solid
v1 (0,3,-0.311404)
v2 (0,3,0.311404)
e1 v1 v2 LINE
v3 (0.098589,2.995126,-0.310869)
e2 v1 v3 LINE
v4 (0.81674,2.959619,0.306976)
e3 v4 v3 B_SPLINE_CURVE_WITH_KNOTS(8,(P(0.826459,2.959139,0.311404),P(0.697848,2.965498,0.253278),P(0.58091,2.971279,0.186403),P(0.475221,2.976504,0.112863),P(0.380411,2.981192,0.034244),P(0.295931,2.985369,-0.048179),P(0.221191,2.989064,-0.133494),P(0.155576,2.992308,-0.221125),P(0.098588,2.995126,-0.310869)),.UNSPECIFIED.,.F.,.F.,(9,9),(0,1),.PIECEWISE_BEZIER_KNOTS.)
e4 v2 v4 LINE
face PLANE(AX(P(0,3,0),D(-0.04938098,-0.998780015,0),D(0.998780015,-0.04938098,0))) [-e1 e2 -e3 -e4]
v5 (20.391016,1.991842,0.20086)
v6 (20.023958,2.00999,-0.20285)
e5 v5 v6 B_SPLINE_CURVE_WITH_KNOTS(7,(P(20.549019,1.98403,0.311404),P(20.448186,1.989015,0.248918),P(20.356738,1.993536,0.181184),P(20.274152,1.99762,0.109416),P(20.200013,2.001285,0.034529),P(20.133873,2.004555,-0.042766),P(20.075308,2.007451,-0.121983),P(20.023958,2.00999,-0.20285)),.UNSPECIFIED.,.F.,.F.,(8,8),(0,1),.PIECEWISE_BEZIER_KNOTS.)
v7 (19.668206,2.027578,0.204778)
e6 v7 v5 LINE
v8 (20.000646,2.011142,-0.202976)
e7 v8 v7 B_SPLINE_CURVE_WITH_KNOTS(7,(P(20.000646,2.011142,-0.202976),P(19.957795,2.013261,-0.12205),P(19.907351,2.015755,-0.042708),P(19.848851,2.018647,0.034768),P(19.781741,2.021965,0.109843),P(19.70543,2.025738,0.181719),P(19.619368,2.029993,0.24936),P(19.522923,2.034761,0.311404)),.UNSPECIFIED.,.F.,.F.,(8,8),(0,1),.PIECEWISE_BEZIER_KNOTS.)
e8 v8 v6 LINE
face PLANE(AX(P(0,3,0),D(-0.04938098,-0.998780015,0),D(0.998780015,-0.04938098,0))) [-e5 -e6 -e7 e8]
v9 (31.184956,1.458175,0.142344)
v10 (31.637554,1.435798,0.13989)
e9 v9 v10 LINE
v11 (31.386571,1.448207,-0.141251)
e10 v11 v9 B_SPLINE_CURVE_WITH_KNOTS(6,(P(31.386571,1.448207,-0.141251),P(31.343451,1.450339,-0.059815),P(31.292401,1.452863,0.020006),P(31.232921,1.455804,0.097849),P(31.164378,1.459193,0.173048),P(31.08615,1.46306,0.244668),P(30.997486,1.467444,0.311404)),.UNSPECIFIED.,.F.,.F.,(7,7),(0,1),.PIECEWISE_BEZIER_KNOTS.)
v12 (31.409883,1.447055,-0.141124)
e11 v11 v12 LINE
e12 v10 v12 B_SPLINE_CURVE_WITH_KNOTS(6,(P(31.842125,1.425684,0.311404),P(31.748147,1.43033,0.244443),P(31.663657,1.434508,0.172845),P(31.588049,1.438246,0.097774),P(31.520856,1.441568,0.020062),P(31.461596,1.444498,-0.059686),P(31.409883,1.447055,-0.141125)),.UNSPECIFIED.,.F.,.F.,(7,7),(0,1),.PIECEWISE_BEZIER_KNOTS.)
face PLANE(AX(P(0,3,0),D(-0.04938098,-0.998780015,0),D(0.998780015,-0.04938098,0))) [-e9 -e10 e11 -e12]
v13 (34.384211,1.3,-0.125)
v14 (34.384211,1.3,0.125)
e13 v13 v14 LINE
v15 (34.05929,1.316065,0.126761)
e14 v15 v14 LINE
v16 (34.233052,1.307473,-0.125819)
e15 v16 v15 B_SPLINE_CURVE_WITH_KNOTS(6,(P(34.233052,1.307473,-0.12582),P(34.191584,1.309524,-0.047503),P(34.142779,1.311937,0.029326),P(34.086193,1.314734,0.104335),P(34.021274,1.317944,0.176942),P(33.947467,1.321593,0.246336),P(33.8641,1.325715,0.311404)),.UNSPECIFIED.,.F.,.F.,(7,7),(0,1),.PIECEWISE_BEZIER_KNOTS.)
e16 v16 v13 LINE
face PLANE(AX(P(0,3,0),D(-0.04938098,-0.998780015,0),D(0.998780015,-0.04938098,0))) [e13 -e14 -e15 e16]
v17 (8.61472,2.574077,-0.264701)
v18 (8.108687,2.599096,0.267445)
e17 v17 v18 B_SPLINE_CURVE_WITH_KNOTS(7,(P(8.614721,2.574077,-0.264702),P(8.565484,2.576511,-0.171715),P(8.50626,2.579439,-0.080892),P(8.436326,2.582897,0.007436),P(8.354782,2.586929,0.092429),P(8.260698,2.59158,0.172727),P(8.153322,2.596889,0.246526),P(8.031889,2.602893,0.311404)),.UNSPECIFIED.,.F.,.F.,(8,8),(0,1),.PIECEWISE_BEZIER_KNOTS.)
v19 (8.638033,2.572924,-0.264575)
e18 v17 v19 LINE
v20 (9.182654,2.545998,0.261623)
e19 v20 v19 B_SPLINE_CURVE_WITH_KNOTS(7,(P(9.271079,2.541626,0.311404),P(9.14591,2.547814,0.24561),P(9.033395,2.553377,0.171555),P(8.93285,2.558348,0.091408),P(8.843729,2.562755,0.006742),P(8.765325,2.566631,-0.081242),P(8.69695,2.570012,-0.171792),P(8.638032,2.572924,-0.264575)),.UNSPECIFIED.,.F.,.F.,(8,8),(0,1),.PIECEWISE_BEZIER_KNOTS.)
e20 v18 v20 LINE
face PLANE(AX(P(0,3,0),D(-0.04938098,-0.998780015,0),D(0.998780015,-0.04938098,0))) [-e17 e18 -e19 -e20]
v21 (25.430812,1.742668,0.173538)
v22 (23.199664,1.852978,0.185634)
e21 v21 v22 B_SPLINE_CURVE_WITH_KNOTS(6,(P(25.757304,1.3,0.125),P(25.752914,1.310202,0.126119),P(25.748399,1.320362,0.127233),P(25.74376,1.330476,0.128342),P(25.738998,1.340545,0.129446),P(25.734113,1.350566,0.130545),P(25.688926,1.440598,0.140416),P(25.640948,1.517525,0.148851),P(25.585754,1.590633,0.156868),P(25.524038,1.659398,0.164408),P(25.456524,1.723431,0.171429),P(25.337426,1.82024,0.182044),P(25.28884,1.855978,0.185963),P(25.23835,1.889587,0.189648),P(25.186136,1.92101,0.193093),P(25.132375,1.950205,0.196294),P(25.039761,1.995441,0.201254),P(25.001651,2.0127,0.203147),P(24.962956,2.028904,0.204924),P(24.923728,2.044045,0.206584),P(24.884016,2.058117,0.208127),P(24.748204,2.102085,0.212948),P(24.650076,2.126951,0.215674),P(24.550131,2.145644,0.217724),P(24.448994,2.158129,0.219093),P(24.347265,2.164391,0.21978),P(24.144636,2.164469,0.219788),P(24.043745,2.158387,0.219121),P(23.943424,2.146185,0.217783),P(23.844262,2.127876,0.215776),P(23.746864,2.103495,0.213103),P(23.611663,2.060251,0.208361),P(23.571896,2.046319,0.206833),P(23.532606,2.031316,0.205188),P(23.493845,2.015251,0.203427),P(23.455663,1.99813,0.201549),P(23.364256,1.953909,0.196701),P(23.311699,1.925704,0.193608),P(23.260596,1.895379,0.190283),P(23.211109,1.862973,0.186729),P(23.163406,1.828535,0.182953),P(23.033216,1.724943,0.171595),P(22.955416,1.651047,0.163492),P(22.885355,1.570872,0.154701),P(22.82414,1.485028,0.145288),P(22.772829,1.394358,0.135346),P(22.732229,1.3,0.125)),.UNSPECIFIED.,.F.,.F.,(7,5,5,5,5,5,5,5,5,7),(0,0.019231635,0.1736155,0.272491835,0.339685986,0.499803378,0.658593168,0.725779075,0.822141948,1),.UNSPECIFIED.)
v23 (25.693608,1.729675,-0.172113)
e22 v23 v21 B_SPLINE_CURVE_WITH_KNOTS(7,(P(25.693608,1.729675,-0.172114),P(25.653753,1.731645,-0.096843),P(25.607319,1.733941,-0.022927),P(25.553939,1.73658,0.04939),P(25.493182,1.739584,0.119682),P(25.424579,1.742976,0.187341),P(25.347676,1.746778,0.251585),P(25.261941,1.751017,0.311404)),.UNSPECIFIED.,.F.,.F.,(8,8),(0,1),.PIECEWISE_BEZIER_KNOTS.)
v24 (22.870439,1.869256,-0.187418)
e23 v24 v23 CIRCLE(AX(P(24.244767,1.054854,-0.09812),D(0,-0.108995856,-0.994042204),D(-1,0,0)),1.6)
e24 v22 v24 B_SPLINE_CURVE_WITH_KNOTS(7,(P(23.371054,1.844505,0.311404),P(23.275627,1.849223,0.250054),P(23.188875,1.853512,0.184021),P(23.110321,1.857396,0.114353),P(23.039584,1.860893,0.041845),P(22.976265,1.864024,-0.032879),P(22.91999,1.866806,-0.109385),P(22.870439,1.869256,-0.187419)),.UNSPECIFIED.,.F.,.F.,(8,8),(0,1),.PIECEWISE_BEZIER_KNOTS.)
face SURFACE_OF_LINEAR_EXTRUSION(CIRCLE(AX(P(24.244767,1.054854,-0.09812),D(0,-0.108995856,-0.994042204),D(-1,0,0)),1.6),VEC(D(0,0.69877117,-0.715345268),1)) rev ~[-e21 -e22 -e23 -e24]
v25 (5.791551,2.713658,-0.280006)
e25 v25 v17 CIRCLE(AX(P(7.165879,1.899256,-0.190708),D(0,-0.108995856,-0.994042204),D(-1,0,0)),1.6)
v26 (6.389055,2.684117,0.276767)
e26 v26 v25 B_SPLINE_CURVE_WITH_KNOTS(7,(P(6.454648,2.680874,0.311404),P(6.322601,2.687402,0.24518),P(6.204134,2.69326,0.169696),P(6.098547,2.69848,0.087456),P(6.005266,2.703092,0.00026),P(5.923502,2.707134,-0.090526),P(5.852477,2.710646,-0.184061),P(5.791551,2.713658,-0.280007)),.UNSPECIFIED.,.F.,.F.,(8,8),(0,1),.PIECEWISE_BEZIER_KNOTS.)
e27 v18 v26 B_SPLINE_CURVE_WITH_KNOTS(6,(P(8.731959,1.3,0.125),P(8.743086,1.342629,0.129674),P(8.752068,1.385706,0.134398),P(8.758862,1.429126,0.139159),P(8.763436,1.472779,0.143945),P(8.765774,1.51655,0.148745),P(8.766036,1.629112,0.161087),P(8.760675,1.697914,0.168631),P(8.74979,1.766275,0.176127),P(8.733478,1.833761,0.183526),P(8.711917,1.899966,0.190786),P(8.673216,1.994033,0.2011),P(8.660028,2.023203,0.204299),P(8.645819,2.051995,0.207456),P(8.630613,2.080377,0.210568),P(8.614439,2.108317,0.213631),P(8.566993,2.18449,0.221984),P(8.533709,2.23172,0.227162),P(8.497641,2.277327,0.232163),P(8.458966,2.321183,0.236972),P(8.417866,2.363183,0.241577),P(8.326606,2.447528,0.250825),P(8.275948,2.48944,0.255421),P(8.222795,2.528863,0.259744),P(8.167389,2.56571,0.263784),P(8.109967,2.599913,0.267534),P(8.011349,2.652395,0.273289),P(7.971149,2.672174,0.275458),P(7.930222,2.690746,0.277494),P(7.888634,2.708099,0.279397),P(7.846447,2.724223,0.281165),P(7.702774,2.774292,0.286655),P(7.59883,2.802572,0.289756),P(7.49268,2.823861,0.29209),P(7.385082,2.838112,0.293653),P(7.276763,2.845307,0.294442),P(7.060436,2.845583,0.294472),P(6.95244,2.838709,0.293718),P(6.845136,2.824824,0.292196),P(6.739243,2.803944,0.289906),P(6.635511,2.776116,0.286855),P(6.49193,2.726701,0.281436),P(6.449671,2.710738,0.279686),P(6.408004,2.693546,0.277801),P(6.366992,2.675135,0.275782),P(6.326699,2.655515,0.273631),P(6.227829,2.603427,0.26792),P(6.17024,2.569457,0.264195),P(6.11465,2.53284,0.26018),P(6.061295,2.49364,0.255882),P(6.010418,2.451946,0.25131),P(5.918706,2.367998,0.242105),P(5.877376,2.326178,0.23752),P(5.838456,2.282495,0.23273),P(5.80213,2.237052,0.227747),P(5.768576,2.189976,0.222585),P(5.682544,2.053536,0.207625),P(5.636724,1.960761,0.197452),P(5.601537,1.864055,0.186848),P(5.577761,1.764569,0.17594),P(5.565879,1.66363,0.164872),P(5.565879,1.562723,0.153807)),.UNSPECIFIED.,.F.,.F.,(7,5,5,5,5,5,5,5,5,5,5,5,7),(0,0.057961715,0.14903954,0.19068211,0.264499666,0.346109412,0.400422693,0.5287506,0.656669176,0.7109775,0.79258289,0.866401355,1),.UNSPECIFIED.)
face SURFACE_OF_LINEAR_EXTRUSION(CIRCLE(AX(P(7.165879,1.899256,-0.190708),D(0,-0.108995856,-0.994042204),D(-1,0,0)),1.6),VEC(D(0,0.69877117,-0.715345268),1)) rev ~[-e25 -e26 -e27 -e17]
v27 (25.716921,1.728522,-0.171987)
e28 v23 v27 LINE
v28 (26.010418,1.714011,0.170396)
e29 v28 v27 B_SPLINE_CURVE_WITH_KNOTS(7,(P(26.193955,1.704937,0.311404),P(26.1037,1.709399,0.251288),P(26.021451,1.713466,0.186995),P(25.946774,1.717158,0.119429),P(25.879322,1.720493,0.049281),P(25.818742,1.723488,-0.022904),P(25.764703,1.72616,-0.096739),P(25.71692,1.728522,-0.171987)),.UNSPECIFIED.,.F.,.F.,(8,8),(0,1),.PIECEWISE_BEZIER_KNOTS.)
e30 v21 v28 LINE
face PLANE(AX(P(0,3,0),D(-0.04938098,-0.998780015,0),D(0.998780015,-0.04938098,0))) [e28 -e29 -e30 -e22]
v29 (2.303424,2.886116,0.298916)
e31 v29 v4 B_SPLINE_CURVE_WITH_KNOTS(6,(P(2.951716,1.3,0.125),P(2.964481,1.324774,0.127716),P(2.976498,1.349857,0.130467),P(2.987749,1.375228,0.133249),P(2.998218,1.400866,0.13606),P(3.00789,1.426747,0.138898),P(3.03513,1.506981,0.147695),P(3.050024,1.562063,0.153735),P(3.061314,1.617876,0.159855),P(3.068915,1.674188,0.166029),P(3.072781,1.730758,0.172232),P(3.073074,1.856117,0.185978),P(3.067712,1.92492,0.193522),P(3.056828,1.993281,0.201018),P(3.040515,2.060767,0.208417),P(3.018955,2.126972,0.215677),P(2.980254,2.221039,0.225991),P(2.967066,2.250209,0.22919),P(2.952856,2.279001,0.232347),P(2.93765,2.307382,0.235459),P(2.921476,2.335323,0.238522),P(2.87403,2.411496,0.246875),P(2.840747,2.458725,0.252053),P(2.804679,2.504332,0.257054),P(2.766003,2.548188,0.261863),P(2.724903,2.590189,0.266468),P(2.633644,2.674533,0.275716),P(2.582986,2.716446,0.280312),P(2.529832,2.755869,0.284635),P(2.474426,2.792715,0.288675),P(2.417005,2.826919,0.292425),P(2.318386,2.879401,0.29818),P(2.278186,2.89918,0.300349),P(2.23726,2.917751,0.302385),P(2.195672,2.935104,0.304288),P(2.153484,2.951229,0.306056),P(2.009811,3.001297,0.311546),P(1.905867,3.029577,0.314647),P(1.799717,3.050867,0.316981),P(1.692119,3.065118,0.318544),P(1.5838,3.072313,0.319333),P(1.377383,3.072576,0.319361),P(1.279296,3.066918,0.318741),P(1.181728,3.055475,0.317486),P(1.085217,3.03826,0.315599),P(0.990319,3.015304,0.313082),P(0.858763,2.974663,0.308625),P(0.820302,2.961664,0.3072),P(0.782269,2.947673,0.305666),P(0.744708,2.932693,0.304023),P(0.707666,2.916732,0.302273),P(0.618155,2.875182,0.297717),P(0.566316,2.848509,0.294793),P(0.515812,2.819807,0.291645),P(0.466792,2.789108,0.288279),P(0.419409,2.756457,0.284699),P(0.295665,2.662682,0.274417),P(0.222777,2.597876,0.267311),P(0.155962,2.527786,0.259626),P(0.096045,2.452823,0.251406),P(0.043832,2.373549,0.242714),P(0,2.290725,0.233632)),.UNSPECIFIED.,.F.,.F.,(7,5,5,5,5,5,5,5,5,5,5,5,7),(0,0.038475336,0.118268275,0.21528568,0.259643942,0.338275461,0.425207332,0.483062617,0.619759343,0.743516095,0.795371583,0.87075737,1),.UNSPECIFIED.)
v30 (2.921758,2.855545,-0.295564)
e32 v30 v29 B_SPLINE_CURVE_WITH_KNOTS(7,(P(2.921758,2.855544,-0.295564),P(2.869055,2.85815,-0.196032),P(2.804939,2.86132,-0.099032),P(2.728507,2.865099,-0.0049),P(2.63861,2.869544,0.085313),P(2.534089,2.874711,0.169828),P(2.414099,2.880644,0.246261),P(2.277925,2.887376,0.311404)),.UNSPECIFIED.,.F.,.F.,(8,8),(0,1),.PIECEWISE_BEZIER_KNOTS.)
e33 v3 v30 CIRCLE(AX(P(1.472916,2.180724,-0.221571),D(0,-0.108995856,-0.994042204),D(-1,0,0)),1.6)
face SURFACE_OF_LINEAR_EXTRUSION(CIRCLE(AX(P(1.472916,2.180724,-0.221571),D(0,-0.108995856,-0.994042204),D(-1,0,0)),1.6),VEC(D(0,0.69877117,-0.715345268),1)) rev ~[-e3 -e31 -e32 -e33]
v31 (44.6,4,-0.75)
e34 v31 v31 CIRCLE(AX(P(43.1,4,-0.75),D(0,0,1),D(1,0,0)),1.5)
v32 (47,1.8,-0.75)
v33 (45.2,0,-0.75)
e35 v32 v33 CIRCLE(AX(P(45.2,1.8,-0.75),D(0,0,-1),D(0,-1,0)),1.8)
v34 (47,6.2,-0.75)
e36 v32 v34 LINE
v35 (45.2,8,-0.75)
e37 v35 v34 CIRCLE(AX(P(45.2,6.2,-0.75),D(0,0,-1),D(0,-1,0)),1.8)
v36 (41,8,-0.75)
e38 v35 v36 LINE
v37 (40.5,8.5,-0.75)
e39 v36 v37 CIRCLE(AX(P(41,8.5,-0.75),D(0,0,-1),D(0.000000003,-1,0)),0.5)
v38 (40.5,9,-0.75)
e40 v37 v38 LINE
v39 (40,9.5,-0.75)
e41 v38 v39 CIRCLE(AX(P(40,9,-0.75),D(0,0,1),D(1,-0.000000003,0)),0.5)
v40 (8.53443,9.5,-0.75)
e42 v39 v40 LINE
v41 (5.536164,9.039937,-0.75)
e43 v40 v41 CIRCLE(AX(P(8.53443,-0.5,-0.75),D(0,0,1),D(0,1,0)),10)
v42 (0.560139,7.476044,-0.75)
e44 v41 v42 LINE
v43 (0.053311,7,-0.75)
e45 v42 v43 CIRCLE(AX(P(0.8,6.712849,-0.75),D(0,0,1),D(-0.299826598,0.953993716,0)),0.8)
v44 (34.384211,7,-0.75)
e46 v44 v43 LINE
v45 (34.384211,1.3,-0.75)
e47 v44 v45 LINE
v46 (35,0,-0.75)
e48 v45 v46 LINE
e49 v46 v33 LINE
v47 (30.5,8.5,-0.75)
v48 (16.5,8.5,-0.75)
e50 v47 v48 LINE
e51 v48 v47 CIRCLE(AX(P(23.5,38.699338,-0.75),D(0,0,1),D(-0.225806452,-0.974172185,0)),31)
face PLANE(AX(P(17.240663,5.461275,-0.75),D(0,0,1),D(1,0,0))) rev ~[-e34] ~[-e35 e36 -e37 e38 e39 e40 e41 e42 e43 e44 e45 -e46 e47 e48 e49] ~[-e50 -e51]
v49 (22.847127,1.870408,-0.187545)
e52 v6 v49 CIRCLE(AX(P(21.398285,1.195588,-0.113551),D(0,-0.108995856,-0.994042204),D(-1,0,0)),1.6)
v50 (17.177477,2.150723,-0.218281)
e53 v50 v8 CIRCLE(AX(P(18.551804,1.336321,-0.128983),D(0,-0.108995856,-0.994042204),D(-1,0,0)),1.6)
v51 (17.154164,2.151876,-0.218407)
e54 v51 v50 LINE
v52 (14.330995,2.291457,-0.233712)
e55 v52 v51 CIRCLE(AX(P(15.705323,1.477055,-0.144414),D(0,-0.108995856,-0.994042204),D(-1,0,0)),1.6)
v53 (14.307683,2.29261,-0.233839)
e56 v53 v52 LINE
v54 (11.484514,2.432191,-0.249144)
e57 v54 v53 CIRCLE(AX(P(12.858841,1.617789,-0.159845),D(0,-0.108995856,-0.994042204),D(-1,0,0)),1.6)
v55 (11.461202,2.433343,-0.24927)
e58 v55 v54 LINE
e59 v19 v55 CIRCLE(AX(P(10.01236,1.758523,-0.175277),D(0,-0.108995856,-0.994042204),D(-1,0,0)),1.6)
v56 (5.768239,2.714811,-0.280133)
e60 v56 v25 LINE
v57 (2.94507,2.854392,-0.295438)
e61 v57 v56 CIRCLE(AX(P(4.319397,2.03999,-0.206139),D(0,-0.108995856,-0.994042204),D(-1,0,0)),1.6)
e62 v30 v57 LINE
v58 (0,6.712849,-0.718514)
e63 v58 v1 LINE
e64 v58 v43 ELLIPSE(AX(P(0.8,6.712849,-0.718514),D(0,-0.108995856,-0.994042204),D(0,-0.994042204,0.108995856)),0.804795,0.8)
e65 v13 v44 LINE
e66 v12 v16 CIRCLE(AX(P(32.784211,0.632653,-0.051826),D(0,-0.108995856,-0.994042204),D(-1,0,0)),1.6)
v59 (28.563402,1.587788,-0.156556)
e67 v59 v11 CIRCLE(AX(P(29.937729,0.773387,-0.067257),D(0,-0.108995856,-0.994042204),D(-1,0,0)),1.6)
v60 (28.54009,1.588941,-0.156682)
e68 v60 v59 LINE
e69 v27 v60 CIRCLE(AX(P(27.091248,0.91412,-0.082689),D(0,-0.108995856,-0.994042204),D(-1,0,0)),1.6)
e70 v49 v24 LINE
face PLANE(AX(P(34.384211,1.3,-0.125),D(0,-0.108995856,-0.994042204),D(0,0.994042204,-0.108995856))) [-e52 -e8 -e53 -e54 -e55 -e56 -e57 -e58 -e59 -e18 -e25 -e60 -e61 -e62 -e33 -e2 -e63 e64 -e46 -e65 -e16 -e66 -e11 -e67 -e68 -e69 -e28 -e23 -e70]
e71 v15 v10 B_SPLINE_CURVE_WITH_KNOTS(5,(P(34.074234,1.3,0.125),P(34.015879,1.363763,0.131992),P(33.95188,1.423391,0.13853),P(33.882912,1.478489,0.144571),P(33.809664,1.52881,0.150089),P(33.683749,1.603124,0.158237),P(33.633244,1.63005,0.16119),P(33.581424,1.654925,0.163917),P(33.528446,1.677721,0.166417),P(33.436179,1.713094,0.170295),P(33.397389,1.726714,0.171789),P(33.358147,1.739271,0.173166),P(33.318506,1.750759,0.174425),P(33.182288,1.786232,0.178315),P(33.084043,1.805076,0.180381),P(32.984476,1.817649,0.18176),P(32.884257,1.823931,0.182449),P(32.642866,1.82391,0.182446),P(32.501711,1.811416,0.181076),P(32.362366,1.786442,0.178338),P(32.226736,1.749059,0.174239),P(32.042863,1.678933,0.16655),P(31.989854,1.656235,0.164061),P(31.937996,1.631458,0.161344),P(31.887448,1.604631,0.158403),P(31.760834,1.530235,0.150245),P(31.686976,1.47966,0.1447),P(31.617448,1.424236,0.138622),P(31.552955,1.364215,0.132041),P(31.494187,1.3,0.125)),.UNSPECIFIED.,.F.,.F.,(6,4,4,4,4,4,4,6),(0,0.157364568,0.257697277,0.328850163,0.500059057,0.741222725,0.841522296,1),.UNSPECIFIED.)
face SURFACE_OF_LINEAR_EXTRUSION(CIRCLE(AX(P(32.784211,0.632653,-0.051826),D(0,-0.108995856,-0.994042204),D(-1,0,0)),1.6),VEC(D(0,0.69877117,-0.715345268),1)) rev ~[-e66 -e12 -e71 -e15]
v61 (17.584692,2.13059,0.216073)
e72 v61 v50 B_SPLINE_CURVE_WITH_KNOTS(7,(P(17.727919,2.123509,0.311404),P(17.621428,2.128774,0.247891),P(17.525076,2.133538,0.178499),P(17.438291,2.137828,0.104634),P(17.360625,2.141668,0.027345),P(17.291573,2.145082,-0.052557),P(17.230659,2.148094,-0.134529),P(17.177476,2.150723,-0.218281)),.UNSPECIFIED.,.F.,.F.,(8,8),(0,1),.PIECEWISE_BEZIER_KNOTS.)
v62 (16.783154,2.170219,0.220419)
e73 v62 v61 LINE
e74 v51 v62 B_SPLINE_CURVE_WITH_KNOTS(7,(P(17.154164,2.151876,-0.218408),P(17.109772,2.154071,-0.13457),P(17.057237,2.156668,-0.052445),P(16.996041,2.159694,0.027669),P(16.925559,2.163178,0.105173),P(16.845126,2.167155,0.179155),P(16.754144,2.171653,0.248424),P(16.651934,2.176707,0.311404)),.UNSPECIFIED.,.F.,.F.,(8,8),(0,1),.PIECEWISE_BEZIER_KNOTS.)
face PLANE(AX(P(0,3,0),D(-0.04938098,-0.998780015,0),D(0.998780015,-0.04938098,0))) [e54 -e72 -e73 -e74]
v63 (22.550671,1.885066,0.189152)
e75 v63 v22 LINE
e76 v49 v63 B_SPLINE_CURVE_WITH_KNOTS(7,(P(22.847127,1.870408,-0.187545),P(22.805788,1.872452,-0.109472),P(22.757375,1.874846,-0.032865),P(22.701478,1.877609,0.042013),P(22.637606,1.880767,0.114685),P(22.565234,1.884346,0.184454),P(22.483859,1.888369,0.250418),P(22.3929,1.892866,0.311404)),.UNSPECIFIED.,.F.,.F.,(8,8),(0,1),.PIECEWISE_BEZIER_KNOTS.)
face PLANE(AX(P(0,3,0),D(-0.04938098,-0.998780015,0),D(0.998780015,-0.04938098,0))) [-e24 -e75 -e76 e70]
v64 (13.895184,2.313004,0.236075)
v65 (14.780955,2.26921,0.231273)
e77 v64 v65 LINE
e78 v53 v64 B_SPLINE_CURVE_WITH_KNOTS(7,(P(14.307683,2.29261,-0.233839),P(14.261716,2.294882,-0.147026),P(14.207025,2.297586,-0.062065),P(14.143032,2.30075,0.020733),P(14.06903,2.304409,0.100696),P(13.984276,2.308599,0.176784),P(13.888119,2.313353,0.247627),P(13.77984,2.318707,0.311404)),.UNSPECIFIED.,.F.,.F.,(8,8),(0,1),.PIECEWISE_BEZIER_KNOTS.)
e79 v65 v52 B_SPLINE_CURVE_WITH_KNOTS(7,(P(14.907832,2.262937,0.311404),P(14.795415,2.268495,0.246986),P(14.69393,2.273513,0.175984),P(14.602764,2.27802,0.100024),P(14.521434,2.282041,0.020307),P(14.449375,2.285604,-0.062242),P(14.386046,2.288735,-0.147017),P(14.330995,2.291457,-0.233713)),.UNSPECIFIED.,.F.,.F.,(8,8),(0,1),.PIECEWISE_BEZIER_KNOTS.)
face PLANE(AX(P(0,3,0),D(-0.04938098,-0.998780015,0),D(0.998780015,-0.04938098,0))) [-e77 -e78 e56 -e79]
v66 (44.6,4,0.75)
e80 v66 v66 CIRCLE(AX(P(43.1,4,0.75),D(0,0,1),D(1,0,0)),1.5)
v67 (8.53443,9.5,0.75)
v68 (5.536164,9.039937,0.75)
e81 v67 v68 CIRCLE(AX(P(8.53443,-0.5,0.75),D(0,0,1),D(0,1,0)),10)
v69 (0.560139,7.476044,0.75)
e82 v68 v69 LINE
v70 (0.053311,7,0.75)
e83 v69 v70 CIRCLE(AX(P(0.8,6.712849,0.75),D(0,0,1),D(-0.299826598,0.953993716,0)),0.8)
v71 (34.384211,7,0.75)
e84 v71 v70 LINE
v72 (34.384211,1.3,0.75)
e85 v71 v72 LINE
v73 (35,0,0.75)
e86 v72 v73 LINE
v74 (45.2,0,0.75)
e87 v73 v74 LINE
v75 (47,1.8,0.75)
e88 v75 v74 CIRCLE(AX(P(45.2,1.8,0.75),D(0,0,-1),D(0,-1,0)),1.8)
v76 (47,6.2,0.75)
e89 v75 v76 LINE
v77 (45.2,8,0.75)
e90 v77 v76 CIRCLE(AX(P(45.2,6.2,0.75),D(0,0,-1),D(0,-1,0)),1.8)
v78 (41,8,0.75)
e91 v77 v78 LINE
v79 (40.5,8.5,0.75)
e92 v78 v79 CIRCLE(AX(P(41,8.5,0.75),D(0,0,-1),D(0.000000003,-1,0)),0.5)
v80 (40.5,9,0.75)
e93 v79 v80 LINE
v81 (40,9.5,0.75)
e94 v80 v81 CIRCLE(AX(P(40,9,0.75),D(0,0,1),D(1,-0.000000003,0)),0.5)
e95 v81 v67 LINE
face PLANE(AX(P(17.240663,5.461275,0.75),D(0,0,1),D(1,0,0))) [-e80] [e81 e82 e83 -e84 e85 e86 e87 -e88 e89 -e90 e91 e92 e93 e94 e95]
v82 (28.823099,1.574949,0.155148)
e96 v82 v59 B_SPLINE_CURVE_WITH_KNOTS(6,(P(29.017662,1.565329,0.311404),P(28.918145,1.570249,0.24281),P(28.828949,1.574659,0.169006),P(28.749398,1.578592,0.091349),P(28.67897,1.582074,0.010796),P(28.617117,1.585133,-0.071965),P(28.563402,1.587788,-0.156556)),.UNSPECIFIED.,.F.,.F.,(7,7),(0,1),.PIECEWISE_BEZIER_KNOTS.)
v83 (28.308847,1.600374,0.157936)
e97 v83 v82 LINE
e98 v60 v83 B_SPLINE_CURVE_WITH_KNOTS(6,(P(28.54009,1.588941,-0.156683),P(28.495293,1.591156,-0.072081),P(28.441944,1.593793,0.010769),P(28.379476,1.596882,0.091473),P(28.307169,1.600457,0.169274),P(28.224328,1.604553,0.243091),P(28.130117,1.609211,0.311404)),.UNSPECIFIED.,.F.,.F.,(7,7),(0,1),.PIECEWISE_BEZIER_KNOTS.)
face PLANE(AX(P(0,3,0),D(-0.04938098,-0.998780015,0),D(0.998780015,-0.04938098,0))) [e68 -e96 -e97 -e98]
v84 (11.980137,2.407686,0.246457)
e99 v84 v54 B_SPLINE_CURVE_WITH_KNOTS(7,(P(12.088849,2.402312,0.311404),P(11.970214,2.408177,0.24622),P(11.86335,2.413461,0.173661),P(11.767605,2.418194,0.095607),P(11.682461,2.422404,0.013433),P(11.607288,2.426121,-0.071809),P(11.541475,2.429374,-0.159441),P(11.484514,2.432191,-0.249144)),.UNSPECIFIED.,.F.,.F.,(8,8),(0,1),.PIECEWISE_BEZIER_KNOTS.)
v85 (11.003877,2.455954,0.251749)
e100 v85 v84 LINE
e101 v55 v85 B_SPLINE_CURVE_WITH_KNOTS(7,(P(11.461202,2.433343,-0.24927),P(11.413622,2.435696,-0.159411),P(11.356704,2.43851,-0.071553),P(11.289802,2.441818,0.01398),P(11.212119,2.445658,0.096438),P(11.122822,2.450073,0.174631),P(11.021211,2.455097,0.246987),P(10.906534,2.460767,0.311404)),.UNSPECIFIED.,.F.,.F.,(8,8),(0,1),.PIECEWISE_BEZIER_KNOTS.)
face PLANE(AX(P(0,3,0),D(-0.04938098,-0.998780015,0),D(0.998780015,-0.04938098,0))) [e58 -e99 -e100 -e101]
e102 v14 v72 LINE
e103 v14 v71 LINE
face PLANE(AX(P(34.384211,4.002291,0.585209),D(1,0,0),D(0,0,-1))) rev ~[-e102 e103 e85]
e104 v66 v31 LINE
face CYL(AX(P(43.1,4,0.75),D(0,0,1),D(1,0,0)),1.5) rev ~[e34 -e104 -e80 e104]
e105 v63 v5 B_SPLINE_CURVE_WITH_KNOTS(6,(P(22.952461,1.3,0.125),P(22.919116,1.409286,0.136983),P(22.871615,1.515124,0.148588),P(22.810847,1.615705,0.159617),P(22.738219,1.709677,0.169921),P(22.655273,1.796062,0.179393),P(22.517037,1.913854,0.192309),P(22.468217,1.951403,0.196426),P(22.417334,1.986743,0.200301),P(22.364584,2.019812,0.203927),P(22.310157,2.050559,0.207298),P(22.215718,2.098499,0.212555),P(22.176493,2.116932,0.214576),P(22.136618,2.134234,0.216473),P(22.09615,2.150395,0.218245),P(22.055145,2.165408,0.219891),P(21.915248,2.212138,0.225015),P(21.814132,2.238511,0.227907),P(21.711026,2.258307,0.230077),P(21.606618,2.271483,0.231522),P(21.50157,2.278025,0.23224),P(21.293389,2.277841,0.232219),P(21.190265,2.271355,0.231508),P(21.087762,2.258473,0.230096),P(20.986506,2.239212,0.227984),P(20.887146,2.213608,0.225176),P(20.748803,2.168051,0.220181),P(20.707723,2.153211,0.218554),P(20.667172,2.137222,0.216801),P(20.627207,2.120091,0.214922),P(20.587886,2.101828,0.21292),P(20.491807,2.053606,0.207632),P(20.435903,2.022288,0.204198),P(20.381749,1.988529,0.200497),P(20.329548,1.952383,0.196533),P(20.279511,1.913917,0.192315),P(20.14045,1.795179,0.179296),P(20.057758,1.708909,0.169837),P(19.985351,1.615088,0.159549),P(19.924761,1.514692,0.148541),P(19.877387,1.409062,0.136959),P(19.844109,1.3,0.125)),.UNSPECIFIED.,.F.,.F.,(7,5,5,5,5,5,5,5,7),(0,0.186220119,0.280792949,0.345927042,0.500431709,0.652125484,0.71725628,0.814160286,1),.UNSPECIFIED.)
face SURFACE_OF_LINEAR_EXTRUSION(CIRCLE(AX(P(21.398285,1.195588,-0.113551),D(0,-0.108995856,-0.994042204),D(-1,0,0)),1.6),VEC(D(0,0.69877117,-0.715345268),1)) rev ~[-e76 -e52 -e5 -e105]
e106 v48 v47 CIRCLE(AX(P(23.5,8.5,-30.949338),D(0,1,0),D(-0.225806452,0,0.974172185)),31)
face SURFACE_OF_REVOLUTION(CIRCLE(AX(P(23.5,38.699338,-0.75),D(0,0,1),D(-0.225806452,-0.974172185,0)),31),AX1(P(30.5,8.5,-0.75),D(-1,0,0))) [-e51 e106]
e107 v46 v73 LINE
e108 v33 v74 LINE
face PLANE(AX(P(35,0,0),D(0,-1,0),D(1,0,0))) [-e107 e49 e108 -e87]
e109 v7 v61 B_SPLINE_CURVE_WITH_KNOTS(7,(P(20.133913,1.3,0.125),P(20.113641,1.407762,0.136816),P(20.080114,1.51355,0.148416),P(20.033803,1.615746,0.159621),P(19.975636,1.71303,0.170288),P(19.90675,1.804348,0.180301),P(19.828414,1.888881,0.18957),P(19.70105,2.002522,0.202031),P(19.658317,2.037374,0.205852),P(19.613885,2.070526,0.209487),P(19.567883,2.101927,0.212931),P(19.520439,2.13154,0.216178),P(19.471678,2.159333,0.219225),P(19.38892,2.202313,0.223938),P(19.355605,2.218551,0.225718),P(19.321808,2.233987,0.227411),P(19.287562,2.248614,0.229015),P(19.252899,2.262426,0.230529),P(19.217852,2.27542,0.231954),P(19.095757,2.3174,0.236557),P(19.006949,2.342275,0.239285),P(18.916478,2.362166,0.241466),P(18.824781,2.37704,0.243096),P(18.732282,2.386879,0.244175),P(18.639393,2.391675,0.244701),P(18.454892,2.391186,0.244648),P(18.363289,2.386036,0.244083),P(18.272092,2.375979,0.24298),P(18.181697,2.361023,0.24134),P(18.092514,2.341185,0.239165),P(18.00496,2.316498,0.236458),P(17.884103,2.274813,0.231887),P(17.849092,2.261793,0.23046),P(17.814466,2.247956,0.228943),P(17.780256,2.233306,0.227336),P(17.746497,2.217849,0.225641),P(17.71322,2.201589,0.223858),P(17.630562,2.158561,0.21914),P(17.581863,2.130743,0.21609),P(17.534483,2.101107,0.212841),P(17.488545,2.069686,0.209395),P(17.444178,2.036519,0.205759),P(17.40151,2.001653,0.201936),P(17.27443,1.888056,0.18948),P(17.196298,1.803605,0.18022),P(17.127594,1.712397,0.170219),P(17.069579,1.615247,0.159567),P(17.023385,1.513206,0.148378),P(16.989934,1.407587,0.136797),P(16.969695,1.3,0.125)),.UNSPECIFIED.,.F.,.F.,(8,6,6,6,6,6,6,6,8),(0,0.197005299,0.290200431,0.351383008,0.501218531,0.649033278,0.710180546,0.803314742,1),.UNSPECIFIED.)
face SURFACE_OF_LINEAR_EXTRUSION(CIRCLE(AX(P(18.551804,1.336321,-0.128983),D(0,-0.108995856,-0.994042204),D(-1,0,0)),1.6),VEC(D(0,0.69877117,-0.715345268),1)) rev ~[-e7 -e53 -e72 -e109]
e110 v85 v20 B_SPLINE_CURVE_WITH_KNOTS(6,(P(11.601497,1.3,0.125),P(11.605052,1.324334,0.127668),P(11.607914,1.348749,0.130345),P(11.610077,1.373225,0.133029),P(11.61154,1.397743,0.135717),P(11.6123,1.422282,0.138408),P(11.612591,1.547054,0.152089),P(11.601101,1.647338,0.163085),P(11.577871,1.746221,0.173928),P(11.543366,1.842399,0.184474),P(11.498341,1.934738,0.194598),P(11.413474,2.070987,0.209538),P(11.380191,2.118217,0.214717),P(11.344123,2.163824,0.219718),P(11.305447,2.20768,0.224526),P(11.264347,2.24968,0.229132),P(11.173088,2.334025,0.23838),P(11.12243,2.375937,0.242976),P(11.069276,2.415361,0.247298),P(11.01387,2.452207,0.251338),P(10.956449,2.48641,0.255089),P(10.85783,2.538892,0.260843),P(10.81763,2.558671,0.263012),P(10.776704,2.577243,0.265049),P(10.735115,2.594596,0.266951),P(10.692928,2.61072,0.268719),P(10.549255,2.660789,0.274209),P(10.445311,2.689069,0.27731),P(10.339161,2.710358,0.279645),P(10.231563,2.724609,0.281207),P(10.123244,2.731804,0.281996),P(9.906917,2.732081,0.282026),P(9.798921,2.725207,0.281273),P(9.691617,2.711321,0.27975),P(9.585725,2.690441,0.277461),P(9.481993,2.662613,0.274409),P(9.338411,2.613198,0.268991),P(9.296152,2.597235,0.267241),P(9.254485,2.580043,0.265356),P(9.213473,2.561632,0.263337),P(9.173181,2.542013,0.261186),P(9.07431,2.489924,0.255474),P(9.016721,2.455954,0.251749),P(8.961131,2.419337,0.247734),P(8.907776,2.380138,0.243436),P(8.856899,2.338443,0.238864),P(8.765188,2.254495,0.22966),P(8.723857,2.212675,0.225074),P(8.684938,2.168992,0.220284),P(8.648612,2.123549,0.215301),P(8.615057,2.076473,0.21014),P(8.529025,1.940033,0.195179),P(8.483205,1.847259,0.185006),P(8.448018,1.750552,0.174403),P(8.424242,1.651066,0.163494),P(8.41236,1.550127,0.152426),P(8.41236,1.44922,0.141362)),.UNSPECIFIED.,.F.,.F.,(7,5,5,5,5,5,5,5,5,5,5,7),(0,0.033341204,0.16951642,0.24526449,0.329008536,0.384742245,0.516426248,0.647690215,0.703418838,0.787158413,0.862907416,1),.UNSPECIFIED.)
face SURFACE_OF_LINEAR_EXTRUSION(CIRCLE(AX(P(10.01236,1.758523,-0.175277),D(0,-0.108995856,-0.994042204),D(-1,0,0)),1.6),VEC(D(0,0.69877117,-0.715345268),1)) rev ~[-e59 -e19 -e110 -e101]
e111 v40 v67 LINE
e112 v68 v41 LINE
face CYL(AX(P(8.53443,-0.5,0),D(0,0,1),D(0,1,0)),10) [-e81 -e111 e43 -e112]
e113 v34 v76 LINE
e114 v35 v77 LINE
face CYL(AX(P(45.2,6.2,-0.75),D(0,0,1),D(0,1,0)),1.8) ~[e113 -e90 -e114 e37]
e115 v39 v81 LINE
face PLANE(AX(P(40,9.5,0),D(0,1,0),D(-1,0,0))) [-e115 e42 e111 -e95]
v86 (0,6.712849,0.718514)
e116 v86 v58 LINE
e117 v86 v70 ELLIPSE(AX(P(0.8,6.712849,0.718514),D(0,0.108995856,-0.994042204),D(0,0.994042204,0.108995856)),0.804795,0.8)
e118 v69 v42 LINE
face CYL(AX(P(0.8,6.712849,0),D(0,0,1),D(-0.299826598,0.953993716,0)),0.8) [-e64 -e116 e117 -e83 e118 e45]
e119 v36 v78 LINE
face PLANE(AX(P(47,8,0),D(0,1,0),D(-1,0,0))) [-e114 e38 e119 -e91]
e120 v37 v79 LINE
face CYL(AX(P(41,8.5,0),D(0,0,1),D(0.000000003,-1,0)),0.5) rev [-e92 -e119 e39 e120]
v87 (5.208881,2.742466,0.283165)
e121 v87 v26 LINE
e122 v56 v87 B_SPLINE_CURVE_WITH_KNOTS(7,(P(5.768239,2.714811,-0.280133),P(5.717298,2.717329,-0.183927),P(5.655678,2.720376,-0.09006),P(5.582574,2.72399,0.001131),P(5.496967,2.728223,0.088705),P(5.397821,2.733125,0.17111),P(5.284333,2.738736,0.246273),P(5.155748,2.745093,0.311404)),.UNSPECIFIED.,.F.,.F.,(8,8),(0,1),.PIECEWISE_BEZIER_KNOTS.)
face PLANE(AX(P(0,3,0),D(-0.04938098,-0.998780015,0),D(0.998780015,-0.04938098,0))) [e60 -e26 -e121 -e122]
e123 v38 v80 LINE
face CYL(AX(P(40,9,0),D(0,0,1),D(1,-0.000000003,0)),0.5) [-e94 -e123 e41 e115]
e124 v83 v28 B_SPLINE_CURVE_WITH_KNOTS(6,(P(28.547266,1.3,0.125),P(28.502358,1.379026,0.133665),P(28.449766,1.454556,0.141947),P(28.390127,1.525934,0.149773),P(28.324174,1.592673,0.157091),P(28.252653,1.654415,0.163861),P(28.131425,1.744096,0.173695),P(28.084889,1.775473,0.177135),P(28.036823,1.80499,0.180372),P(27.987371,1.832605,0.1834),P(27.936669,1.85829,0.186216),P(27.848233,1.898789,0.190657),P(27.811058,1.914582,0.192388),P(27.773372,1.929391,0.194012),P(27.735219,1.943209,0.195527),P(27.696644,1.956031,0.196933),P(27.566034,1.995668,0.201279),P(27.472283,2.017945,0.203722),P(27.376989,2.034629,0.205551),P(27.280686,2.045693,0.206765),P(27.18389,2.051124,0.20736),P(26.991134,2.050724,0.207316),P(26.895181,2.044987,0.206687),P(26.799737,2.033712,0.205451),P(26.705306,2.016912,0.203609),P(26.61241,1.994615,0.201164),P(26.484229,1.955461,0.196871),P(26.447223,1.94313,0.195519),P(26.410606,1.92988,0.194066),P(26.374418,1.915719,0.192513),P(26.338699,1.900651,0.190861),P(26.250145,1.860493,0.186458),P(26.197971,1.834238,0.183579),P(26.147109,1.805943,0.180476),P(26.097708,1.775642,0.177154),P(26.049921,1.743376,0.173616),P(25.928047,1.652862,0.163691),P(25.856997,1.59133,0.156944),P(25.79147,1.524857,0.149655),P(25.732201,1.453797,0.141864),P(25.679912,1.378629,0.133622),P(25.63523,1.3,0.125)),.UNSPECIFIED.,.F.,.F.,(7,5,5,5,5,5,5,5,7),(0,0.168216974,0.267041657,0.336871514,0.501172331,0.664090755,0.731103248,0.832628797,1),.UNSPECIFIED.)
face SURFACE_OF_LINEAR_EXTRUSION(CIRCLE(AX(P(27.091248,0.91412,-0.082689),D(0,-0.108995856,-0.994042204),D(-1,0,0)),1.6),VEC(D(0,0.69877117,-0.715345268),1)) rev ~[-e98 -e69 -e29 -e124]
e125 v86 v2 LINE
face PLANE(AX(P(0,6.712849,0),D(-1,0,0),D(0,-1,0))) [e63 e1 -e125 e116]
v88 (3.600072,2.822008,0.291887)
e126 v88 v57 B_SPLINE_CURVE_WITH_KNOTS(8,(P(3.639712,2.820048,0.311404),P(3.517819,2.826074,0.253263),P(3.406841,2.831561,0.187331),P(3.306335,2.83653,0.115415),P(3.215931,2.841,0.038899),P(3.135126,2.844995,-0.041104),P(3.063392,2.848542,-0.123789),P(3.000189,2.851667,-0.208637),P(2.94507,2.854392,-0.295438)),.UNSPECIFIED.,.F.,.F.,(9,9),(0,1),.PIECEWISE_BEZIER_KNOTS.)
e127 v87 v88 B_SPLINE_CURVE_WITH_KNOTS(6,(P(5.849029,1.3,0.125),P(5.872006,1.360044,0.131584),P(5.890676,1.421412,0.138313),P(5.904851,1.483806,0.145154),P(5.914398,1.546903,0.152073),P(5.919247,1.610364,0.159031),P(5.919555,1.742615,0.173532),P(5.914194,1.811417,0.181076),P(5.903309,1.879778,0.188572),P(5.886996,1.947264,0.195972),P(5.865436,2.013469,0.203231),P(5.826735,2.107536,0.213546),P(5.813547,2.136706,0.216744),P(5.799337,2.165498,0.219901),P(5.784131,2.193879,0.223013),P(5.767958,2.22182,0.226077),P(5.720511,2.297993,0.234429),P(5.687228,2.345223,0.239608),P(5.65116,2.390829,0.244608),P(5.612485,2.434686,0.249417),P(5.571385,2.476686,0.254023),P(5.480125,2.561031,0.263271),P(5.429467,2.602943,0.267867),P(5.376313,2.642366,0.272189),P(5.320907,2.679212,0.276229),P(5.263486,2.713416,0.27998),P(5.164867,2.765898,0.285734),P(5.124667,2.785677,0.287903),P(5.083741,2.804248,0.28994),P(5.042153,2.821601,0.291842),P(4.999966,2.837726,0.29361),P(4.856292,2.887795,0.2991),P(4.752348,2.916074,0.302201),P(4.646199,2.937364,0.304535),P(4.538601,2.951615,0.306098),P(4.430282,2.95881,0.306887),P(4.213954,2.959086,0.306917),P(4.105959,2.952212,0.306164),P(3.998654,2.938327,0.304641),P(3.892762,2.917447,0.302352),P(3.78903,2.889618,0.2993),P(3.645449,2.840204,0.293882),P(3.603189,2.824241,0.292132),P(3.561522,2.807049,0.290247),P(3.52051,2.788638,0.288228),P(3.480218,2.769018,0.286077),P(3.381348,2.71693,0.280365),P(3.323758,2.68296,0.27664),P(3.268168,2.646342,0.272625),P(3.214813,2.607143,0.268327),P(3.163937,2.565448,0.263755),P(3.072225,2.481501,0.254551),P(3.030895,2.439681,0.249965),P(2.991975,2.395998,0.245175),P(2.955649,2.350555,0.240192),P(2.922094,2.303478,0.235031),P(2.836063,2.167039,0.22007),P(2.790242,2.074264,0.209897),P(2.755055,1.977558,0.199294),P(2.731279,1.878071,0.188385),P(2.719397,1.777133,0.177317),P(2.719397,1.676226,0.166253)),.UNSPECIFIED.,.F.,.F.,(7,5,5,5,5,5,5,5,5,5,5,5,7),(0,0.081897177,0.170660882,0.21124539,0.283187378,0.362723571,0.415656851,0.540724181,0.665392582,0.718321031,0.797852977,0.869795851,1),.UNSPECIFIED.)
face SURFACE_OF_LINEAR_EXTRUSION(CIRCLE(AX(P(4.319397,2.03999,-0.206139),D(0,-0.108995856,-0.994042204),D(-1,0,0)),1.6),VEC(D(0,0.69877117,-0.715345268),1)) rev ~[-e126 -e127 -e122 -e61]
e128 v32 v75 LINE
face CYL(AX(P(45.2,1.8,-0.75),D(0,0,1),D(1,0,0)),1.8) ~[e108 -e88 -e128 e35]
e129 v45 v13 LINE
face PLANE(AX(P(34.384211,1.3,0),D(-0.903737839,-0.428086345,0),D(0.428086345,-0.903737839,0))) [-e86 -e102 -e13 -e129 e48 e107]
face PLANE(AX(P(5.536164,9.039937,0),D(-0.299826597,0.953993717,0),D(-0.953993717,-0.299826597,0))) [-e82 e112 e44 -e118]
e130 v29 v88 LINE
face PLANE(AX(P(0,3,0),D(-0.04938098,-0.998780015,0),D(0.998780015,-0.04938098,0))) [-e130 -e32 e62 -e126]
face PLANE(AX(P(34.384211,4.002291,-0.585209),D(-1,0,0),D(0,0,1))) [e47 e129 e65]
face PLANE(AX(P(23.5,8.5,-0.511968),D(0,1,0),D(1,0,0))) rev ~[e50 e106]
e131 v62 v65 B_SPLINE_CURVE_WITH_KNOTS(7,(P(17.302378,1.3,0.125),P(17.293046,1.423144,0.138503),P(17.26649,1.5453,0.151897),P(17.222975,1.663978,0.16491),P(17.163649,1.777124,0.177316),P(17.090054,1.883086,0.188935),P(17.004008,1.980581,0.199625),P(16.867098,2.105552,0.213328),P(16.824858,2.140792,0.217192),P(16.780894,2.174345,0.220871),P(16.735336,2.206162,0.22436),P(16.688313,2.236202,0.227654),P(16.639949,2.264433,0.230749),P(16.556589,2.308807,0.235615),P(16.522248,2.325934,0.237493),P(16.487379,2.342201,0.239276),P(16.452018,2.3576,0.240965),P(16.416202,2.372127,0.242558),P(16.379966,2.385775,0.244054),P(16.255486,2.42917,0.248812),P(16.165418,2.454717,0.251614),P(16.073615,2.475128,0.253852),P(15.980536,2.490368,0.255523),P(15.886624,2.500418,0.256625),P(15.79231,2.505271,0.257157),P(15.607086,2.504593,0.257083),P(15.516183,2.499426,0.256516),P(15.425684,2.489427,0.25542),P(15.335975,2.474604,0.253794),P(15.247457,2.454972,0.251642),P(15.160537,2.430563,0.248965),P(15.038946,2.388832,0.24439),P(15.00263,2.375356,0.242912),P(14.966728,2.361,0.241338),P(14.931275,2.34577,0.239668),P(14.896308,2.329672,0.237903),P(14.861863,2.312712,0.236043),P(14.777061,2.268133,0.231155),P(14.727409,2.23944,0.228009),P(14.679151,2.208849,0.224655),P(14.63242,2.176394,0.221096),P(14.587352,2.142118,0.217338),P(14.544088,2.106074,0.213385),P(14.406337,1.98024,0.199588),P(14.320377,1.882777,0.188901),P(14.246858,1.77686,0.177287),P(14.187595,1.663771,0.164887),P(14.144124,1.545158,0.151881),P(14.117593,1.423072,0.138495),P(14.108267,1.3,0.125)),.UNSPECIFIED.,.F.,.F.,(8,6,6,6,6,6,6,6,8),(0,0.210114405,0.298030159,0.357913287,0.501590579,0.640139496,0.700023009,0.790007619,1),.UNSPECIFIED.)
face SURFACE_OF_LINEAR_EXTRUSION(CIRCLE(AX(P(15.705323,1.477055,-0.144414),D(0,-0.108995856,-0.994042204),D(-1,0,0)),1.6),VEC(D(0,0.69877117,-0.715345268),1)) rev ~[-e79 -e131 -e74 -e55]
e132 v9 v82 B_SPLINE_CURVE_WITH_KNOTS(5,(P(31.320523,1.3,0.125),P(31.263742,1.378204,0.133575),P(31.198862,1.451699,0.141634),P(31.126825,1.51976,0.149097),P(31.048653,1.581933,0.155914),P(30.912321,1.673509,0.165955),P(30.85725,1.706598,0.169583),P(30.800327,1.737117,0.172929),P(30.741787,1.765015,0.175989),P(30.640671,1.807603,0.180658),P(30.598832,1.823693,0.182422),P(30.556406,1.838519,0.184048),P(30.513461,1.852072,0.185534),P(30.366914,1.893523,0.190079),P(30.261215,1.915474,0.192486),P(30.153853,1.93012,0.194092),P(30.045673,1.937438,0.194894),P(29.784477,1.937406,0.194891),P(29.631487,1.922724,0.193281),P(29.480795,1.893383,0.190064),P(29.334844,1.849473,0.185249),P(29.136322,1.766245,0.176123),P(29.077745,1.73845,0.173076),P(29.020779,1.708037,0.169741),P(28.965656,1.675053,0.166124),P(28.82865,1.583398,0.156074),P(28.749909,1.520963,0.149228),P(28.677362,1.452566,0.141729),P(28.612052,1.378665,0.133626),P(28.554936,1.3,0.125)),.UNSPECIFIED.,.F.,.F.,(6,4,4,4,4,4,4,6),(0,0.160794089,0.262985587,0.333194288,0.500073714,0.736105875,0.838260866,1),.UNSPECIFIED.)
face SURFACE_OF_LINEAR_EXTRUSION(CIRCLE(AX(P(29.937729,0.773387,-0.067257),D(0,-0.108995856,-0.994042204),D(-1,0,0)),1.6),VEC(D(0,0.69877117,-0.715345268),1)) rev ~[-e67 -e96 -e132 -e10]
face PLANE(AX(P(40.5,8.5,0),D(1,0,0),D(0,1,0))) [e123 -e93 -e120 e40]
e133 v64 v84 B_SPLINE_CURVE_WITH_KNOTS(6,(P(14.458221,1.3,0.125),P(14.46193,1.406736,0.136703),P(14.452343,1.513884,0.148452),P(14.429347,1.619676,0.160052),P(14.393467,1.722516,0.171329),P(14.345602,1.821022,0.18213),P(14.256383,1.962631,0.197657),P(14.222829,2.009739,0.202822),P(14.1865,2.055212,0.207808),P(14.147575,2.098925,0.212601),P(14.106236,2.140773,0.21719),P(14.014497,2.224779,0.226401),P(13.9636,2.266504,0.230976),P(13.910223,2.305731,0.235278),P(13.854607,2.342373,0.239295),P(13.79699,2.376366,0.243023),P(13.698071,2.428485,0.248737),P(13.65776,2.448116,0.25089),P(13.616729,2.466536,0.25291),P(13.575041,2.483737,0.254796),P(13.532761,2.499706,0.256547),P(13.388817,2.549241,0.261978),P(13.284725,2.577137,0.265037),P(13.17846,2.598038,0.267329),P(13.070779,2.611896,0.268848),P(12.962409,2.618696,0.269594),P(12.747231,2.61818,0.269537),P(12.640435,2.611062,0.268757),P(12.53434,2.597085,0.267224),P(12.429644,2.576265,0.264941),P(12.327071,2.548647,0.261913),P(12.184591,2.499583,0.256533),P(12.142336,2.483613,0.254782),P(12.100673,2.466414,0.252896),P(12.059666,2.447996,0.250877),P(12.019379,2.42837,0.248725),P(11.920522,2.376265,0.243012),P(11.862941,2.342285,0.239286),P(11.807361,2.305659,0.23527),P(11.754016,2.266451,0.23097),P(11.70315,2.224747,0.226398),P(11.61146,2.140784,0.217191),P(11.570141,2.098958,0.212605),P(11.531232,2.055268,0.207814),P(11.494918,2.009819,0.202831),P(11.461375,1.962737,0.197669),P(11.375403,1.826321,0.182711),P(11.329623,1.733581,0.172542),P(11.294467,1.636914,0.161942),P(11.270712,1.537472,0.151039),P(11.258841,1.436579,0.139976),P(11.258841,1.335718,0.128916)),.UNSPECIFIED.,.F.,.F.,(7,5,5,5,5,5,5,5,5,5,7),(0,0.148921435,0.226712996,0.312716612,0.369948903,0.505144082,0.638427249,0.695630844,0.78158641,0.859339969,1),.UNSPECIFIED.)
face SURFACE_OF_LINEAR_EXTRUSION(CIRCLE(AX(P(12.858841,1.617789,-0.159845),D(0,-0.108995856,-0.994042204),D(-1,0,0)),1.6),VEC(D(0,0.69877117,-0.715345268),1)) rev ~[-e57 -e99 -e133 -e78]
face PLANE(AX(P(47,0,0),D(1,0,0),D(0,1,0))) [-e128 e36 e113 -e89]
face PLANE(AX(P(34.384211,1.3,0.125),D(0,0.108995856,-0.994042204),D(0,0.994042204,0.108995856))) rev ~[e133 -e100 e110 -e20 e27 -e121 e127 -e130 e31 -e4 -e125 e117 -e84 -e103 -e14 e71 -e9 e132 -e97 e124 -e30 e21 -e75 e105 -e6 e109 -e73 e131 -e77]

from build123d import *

# Parameters (mm, degrees)
BOSS_EXTRUDE1_DEPTH = 0.75
FILLET1_R           = 1.8
CUT_EXTRUDE3_DEPTH  = 36.680336791
SKETCH5_R           = 1.6
CUT_EXTRUDE4_DEPTH  = 20.5
LPATTERN1_COUNT     = 12
LPATTERN1_PITCH     = 2.85
SKETCH8_R           = 1.5
CUT_EXTRUDE5_DEPTH  = 20.5
CUT_REVOLVE1_ANGLE  = 90


with BuildPart() as part:
    # Sketch1 → Boss-Extrude1 (new, symmetric)
    with BuildSketch(Plane.XY):
        with BuildLine():
            Line((0, 6.712848625), (0, 3))
            Line((0, 3), (34.384210526, 1.3))
            Line((34.384210526, 1.3), (30.5, 9.5))
            Line((30.5, 9.5), (8.534429687, 9.5))
            ThreePointArc((8.534429687, 9.5), (7.017751028, 9.384315143), (5.53616372, 9.039937169))
            Line((5.53616372, 9.039937169), (0.560138723, 7.476043599))
            ThreePointArc((0.560138723, 7.476043599), (0.155062398, 7.186193625), (0, 6.712848625))
        make_face()
        with BuildLine():
            Line((30.5, 9.5), (34.384210526, 1.3))
            Line((34.384210526, 1.3), (35, 0))
            Line((35, 0), (47, 0))
            Line((47, 0), (47, 8))
            Line((47, 8), (41, 8))
            ThreePointArc((41, 8), (40.646446609, 8.146446609), (40.5, 8.5))
            Line((40.5, 8.5), (40.5, 9))
            ThreePointArc((40.5, 9), (40.353553391, 9.353553391), (40, 9.5))
            Line((40, 9.5), (30.5, 9.5))
        make_face()
    extrude(amount=BOSS_EXTRUDE1_DEPTH, both=True)

    # Fillet1
    fillet1_edges = [part.edges().sort_by_distance(p)[0] for p in [
        (47, 8, 0),
        (47, 0, 0),
    ]]
    fillet(fillet1_edges, radius=FILLET1_R)

    # Sketch4 → Cut-Extrude3 (cut, through all)
    with BuildSketch(Plane(origin=(34.384210526, 0, 0), x_dir=(0, 0, -1), z_dir=(1, 0, 0))):
        Polygon((-0.75, 1.3), (-0.125, 1.3), (-0.75, 7), align=None)
        Polygon((0.75, 1.3), (0.125, 1.3), (0.75, 7), align=None)
    extrude(amount=-CUT_EXTRUDE3_DEPTH, mode=Mode.SUBTRACT)

    # Sketch5 → Cut-Extrude4 (cut, along a direction that is not the sketch's normal)
    with BuildSketch(Plane(origin=(0, 0.001900815, 0.017335437), x_dir=(-1, 0, 0), z_dir=(0, -0.10899585570756742, -0.9940422040530147))):
        with Locations((-32.784210526, 0.634532433)):
            Circle(SKETCH5_R)
    cut_extrude4 = extrude(amount=-CUT_EXTRUDE4_DEPTH, dir=(0, 0.6987711700907747, -0.7153452675806066), mode=Mode.SUBTRACT)

    # LPattern1: Cut-Extrude4 ×12
    with Locations(*[Vector(-0.998765374567026, 0.049380256541427955, -0.005414501813753065) * (i * LPATTERN1_PITCH) for i in range(1, LPATTERN1_COUNT)]):
        add(cut_extrude4, mode=Mode.SUBTRACT)

    # Sketch8 → Cut-Extrude5 (cut)
    with BuildSketch(Plane.XY.offset(0.75)):
        with Locations((43.1, 4)):
            Circle(SKETCH8_R)
    extrude(amount=-CUT_EXTRUDE5_DEPTH, mode=Mode.SUBTRACT)

    # Sketch2 → Cut-Revolve1 (revolve, cut)
    with BuildSketch(Plane(origin=(0, 0, -0.75), x_dir=(-1, 0, 0), z_dir=(0, 0, -1))):
        with BuildLine():
            Line((-30.5, 8.5), (-16.5, 8.5))
            ThreePointArc((-16.5, 8.5), (-23.5, 7.699337741), (-30.5, 8.5))
        make_face()
    revolve(axis=Axis((30.5, 8.5, -0.75), (-1, 0, 0)), revolution_arc=CUT_REVOLVE1_ANGLE, mode=Mode.SUBTRACT)


solid = part.part
